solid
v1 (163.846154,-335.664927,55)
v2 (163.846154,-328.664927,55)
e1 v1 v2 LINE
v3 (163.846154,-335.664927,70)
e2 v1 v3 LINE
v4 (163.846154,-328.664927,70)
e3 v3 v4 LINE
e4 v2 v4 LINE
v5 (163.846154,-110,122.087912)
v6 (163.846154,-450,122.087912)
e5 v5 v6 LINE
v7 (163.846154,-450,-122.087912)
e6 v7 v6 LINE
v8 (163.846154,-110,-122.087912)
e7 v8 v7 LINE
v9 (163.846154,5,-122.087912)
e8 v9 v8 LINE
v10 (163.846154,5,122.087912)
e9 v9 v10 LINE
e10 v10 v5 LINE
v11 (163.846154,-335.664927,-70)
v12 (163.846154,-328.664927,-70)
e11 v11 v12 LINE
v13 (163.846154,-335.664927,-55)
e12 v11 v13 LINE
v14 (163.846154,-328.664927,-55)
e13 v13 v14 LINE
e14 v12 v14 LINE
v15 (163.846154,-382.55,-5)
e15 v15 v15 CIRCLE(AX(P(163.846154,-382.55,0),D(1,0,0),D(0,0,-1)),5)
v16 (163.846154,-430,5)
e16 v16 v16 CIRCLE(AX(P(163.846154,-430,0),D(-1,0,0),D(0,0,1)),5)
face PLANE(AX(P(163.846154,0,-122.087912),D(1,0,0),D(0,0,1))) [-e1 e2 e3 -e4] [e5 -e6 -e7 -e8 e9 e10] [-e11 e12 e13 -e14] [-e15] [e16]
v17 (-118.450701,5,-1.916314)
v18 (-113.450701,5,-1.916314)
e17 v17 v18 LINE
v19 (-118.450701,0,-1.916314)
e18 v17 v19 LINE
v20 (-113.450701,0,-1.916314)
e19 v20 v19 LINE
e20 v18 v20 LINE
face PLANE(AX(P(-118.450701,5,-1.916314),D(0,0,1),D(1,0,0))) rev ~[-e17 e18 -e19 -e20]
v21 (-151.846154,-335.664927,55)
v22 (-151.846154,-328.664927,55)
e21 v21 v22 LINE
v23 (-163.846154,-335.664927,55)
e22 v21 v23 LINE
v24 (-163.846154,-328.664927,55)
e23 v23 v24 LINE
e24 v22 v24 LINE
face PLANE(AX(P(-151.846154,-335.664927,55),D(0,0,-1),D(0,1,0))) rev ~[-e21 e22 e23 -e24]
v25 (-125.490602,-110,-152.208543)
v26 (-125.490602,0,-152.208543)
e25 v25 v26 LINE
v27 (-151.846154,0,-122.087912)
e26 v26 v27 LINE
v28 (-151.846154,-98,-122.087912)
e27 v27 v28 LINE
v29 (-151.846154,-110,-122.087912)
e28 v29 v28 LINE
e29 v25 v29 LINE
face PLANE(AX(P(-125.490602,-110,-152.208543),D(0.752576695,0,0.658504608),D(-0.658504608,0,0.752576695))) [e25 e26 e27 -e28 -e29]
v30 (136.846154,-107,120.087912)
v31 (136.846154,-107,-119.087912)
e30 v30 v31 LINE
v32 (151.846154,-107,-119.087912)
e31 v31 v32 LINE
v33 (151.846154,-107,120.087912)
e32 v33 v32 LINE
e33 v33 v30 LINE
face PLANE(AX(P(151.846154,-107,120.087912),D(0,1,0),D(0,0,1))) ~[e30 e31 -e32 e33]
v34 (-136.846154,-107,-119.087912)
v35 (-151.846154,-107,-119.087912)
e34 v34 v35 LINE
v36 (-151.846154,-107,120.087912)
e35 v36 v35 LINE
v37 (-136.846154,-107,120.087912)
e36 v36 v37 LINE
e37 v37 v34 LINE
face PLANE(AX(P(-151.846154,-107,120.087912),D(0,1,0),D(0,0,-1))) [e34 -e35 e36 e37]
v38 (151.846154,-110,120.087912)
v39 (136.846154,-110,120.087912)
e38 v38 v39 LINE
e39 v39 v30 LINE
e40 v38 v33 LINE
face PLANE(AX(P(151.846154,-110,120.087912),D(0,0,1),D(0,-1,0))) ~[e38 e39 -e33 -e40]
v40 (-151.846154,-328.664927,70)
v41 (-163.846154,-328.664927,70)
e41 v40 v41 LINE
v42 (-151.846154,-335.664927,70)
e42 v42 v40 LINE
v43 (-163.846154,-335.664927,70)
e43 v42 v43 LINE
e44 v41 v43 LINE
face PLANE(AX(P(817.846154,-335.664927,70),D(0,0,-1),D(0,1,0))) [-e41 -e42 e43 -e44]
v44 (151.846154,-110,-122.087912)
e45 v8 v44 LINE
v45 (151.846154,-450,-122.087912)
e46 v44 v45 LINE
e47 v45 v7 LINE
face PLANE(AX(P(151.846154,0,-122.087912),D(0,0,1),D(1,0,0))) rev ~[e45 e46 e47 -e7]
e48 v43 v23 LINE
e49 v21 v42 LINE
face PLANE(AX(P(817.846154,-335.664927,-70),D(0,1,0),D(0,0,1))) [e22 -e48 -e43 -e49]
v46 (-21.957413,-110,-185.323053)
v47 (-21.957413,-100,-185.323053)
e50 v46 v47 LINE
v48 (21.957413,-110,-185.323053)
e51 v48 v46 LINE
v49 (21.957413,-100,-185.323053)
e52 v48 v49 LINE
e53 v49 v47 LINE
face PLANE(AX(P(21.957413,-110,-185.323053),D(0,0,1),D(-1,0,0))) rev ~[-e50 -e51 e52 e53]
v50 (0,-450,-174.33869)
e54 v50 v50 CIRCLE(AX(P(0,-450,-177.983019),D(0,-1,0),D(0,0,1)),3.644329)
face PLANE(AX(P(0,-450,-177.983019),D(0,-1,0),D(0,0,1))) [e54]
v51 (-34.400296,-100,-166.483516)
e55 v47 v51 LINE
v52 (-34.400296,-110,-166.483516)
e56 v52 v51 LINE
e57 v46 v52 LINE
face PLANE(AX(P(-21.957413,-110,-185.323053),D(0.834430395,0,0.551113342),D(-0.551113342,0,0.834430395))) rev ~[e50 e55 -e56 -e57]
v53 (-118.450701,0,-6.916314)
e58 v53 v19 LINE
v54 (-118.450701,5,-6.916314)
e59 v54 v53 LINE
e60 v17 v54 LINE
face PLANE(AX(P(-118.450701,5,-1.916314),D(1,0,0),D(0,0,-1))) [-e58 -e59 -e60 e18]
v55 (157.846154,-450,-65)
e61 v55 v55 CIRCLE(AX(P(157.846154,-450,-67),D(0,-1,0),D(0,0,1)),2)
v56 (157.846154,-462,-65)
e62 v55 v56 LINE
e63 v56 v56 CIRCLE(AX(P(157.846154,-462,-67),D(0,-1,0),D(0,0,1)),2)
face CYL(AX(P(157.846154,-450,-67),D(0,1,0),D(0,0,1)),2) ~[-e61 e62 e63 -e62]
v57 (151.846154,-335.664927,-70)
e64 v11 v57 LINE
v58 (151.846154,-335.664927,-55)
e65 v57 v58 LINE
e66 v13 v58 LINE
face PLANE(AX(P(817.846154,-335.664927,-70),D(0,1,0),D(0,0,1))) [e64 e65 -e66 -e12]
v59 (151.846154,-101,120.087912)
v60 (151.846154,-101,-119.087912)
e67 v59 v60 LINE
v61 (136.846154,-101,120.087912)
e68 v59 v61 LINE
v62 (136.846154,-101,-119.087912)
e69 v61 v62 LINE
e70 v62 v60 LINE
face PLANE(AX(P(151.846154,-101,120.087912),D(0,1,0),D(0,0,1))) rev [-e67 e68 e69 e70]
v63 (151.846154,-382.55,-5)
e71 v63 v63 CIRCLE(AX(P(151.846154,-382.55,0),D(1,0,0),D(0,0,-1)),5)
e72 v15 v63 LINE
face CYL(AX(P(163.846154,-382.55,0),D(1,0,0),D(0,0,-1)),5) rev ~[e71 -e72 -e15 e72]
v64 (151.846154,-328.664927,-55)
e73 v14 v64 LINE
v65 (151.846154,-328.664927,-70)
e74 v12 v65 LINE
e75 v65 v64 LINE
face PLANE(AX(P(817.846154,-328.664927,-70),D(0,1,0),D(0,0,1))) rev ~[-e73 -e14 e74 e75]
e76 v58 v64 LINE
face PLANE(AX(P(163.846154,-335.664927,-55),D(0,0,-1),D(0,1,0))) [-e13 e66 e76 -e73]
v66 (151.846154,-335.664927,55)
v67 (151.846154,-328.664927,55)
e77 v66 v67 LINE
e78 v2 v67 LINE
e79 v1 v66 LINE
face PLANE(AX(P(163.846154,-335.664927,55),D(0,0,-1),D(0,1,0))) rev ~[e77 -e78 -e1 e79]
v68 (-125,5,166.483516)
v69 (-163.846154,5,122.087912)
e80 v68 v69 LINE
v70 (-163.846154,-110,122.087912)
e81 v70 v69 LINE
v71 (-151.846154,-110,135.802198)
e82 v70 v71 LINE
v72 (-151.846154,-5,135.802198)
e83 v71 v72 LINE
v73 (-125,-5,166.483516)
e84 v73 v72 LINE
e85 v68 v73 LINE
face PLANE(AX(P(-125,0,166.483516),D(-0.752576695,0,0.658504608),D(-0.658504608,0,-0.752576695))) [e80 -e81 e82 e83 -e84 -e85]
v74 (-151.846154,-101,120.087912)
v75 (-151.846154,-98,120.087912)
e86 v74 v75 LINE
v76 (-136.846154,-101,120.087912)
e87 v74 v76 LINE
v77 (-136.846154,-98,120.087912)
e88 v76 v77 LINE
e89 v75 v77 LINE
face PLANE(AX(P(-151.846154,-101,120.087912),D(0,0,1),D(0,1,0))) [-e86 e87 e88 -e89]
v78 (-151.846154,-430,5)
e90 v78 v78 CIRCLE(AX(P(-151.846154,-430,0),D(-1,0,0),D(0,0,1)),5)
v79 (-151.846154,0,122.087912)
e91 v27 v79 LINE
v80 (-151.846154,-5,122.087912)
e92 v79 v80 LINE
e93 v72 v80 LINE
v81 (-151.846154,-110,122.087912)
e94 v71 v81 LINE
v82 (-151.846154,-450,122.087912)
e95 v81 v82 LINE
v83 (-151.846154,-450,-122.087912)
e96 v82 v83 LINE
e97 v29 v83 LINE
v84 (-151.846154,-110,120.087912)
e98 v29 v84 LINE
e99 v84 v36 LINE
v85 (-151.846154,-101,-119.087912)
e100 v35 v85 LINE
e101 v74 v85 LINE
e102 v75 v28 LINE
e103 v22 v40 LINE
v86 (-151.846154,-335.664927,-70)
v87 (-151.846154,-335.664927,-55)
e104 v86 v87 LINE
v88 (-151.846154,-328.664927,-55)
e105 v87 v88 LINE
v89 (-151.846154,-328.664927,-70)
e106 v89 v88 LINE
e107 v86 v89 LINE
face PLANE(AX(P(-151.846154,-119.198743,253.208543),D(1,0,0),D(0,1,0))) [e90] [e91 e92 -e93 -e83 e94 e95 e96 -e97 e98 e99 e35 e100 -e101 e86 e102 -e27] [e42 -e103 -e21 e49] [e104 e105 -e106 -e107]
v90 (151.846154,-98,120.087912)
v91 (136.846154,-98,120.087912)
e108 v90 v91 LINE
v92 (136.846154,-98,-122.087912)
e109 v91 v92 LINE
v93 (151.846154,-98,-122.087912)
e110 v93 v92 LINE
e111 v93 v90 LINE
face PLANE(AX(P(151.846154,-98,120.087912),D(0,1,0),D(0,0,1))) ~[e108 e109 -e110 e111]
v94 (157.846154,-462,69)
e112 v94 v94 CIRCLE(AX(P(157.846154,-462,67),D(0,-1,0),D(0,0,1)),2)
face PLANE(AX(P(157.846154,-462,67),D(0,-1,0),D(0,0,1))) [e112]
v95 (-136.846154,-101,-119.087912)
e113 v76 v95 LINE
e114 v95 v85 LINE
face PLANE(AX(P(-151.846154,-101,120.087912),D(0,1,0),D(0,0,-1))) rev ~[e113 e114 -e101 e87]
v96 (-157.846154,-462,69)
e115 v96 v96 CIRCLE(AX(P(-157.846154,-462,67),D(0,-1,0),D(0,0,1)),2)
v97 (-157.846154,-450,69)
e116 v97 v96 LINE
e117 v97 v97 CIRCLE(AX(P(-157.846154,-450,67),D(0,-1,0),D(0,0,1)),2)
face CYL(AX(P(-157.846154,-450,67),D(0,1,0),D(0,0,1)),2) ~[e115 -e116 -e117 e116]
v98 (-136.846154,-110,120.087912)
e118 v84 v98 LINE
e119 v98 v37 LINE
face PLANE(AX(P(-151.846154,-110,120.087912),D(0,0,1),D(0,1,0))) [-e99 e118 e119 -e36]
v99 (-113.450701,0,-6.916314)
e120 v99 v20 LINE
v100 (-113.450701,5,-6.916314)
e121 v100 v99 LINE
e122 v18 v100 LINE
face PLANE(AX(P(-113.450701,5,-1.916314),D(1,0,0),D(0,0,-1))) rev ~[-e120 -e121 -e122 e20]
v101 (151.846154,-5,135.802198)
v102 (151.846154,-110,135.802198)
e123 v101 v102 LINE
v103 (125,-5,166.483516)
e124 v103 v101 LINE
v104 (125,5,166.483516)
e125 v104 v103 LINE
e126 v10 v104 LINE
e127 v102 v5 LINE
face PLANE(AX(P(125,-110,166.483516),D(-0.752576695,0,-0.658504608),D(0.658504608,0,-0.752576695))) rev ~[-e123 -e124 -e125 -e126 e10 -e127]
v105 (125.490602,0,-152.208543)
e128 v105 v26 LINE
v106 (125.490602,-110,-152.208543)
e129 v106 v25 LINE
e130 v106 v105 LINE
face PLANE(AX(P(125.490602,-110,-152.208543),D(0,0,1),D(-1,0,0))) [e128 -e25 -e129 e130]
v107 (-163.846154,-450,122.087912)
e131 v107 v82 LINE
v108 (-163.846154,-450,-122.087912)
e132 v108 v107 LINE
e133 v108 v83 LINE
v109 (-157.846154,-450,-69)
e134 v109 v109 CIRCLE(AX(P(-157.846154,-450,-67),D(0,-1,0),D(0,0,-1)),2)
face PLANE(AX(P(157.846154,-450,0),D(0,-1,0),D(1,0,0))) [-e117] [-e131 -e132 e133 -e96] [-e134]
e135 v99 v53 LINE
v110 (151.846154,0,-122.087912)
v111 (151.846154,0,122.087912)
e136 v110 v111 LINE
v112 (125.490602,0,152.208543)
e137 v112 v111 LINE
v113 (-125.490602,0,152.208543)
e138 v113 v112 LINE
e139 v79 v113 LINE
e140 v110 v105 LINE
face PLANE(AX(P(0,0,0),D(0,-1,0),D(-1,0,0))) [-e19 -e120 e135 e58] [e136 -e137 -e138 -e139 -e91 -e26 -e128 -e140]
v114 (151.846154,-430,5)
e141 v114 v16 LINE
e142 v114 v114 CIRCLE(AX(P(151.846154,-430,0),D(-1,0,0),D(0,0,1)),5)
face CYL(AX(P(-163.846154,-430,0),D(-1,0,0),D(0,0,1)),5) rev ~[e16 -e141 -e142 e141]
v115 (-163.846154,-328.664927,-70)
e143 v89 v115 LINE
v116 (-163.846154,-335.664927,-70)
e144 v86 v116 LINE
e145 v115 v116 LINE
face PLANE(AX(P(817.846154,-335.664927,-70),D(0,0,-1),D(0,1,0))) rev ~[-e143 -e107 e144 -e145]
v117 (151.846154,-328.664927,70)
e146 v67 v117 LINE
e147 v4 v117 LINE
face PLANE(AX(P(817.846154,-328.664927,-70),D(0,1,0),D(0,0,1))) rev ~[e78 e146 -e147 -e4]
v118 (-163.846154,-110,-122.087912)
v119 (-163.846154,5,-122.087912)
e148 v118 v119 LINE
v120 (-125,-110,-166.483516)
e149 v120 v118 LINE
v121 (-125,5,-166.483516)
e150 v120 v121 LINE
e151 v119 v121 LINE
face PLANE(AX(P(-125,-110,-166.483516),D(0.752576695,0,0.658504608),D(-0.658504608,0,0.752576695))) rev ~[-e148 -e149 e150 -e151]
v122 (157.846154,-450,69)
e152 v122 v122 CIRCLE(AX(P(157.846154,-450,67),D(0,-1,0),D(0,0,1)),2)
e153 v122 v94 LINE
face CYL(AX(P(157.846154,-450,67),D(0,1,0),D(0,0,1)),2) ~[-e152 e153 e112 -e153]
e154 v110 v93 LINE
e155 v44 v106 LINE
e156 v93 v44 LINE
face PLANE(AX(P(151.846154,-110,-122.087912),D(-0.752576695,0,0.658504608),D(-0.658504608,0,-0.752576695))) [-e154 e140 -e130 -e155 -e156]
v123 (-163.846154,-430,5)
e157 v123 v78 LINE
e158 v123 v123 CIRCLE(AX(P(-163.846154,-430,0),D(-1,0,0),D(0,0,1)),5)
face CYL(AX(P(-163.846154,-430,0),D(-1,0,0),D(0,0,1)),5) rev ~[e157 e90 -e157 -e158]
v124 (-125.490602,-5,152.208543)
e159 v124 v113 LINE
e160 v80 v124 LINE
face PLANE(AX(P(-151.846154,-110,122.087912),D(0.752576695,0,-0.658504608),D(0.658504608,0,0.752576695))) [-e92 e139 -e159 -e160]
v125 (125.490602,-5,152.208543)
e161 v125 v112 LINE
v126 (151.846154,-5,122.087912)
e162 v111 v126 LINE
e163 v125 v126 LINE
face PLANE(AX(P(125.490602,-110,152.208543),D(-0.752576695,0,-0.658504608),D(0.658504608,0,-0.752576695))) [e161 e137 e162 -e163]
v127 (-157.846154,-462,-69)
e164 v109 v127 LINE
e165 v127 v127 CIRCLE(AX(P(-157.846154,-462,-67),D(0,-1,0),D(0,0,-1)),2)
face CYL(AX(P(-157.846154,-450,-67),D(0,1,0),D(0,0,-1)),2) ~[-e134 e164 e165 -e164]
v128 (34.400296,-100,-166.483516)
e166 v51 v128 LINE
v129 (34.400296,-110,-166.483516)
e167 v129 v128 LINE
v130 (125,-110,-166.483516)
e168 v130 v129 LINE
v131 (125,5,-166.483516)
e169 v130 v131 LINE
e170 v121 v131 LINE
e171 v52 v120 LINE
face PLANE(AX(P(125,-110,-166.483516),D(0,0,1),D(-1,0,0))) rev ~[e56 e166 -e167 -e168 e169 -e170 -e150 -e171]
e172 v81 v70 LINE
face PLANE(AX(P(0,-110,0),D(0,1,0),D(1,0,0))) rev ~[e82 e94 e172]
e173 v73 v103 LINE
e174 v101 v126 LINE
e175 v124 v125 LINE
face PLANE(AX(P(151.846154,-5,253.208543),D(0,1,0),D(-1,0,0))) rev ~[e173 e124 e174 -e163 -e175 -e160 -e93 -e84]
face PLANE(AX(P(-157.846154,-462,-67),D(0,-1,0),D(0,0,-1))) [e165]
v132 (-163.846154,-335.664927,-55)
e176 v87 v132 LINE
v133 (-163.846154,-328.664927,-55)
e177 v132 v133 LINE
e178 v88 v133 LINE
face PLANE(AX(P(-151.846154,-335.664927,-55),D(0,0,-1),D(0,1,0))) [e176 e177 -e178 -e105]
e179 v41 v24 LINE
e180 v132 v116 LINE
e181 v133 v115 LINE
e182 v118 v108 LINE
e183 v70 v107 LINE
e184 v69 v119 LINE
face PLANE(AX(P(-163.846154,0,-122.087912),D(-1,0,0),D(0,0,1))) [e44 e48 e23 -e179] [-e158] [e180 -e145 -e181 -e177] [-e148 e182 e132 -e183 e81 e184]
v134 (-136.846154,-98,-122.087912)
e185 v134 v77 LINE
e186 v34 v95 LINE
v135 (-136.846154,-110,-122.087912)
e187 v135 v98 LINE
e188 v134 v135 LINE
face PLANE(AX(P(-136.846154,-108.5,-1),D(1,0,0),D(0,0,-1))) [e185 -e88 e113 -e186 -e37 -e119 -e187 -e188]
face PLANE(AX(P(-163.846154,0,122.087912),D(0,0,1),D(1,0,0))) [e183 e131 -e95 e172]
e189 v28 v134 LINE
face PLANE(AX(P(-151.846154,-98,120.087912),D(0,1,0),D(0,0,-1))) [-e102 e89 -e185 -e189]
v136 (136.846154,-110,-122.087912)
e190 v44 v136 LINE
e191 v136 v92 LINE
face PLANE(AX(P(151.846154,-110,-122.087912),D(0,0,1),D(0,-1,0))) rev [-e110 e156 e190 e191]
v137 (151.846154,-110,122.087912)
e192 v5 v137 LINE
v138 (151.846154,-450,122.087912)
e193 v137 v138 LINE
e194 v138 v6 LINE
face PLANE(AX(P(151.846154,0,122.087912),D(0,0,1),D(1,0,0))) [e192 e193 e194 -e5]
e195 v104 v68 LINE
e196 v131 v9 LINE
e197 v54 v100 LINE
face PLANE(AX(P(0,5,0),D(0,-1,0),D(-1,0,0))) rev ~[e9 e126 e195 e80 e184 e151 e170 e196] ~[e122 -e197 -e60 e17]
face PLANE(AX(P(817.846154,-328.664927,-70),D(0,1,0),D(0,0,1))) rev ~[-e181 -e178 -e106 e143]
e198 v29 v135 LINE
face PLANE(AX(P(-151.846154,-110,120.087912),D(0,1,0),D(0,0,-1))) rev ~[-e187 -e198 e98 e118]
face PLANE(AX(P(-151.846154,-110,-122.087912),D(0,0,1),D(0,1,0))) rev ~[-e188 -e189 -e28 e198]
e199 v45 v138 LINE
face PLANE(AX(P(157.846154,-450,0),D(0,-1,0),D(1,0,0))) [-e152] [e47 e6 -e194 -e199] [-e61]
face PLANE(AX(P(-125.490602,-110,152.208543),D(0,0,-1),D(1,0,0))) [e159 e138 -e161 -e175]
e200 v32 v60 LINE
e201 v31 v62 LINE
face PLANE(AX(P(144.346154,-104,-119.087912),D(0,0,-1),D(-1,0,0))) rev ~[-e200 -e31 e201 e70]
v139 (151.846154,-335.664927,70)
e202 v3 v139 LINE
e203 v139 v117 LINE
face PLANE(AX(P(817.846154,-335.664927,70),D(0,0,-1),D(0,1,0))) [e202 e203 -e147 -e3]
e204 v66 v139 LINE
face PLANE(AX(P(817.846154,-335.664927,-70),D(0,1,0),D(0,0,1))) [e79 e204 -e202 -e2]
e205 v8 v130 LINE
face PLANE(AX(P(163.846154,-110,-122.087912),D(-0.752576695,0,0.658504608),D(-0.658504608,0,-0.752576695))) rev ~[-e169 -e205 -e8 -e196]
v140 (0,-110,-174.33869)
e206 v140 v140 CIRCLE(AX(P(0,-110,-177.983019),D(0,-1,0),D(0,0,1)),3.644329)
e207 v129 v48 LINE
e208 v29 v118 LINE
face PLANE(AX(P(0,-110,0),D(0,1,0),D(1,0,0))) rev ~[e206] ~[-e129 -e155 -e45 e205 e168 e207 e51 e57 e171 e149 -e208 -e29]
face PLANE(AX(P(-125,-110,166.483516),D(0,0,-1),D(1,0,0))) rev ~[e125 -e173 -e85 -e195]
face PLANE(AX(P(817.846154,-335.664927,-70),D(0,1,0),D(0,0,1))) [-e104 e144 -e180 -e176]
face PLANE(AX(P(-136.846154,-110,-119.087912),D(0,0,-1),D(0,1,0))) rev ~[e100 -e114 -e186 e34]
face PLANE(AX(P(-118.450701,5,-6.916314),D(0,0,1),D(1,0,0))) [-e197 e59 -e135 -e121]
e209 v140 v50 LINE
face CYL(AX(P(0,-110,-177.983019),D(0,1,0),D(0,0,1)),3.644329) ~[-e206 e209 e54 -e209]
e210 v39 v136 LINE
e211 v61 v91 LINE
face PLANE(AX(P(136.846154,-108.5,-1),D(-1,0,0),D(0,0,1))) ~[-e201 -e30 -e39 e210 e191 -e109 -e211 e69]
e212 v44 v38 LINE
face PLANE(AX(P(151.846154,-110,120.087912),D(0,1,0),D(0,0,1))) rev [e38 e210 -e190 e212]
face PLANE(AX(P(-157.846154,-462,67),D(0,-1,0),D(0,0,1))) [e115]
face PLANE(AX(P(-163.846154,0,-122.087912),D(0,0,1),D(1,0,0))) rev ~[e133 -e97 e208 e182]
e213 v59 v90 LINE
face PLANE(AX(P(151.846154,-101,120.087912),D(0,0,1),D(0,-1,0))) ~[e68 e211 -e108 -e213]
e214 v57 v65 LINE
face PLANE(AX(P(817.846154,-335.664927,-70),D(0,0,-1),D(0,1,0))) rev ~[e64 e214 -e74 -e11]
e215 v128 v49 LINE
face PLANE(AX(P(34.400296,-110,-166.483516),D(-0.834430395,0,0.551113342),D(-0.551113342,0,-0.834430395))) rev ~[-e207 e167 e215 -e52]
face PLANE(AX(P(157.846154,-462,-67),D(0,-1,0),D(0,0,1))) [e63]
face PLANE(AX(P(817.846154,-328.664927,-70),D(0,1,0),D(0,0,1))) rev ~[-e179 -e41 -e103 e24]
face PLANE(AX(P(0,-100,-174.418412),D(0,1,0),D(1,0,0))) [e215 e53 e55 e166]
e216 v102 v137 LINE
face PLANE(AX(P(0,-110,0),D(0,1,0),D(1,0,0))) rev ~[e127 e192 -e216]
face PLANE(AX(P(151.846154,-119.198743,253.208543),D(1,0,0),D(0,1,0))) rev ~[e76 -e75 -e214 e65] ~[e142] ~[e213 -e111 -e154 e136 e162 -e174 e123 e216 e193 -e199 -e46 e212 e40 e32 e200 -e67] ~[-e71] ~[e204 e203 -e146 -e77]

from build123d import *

# Parameters (mm, degrees)
BOSS_EXTRU_1_DEPTH           = 5
ESQUISSE3_W                  = 12
ESQUISSE3_H                  = 244.175824176
BOSS_EXTRU_3_DEPTH           = 450
ESQUISSE4_R                  = 2
BOSS_EXTRU_6_DEPTH           = 12
ESQUISSE8_R                  = 5
ENL_V_MAT_EXTRU_2_DEPTH      = 416
BOSS_EXTRU_7_DEPTH           = 110
ENL_V_MAT_EXTRU_6_DEPTH      = 148
ENL_V_MAT_EXTRU_6_DEPTH_BACK = 101
ESQUISSE11_W                 = 303.692307692
ESQUISSE11_H                 = 114.198743449
ENL_V_MAT_EXTRU_8_DEPTH      = 666
ENL_V_MAT_EXTRU_8_DEPTH_BACK = 666
ESQUISSE12_W                 = 140
ESQUISSE12_H                 = 7
ESQUISSE16_W                 = 242.175824176
ESQUISSE16_H                 = 3
BOSS_EXTRU_8_DEPTH           = 15
ESQUISSE17_W                 = 3
ESQUISSE17_H                 = 12
BOSS_EXTRU_11_DEPTH          = 15
ESQUISSE19_W                 = 15
ESQUISSE19_H                 = 12
BOSS_EXTRU_12_DEPTH          = 3
ESQUISSE23_W                 = 110
ESQUISSE23_H                 = 7
BOSS_EXTRU_13_DEPTH          = 12
ESQUISSE24_W                 = 110
ESQUISSE24_H                 = 7
BOSS_EXTRU_14_DEPTH          = 12
ESQUISSE27_W                 = 10
ESQUISSE27_H                 = 338
BOSS_EXTRU_16_DEPTH          = 303.692307692
ESQUISSE28_W                 = 5
ESQUISSE28_H                 = 5
ENL_V_MAT_EXTRU_9_DEPTH      = 15
ESQUISSE29_R                 = 5
ENL_V_MAT_EXTRU_10_DEPTH     = 38
ESQUISSE30_W                 = 303.692307692
ESQUISSE30_H                 = 10
ENL_V_MAT_EXTRU_11_DEPTH     = 340
ESQUISSE31_W                 = 303.692307692
ESQUISSE31_H                 = 10
ENL_V_MAT_EXTRU_12_DEPTH     = 338
BOSS_EXTRU_18_DEPTH          = 10
ESQUISSE34_R                 = 3.644329392
BOSS_EXTRU_19_DEPTH          = 340


with BuildPart() as part:
    # Esquisse1 → Boss.-Extru.1 (new body)
    with BuildSketch(Plane(origin=(0, 0, 0), x_dir=(1, 0, 0), z_dir=(0, 1, 0))):
        Polygon((-125, 166.483516484), (125, 166.483516484), (163.846153846, 122.087912088), (163.846153846, -122.087912088), (125, -166.483516484), (-125, -166.483516484), (-163.846153846, -122.087912088), (-163.846153846, 122.087912088), align=None)
    extrude(amount=BOSS_EXTRU_1_DEPTH)

    # Esquisse3 → Boss.-Extru.3 (add)
    with BuildSketch(Plane.XZ):
        with Locations((-157.846153846, 0)):
            Rectangle(ESQUISSE3_W, ESQUISSE3_H)
        with Locations((157.846153846, 0)):
            Rectangle(ESQUISSE3_W, ESQUISSE3_H)
    extrude(amount=BOSS_EXTRU_3_DEPTH)

    # Esquisse4 → Boss.-Extru.6 (add)
    with BuildSketch(Plane.XZ.offset(450)):
        with Locations(Location((-157.846153846, 67, 0), (0, 0, 90))):
            Circle(ESQUISSE4_R)
        with Locations(Location((-157.846153846, -67, 0), (0, 0, 270))):
            Circle(ESQUISSE4_R)
        with Locations(Location((157.846153846, -67, 0), (0, 0, 90))):
            Circle(ESQUISSE4_R)
        with Locations(Location((157.846153846, 67, 0), (0, 0, 90))):
            Circle(ESQUISSE4_R)
    extrude(amount=BOSS_EXTRU_6_DEPTH)

    # Esquisse8 → Enlèv. mat.-Extru.2 (cut)
    with BuildSketch(Plane.ZY.offset(163.846153846)):
        with Locations((0, -430)):
            Circle(ESQUISSE8_R)
    extrude(amount=-ENL_V_MAT_EXTRU_2_DEPTH, mode=Mode.SUBTRACT)

    # Esquisse10 → Boss.-Extru.7 (add)
    with BuildSketch(Plane(origin=(0, -110, 0), x_dir=(-1, 0, 0), z_dir=(0, -1, 0))):
        Polygon((-163.846153846, 122.087912088), (-125, 166.483516484), (125, 166.483516484), (163.846153846, 122.087912088), (163.846153846, -122.087912088), (125, -166.483516484), (-125, -166.483516484), (-163.846153846, -122.087912088), align=None)
        Polygon((-151.846153846, -122.087912088), (-151.846153846, 122.087912088), (-125.490601914, 152.208542868), (125.490601914, 152.208542868), (151.846153846, 122.087912088), (151.846153846, -122.087912088), (125.490601914, -152.208542868), (-125.490601914, -152.208542868), align=None, mode=Mode.SUBTRACT)
    extrude(amount=-BOSS_EXTRU_7_DEPTH)

    # Esquisse11 → Enlèv. mat.-Extru.6 (cut, two sides: drawn at the far end of the back side and taken through both)
    with BuildSketch(Plane(origin=(0, 0, 152.208542868), x_dir=(-1, 0, 0), z_dir=(0, 0, -1)).offset(-ENL_V_MAT_EXTRU_6_DEPTH_BACK)):
        with Locations((0, -62.099371725)):
            Rectangle(ESQUISSE11_W, ESQUISSE11_H)
    extrude(amount=ENL_V_MAT_EXTRU_6_DEPTH + ENL_V_MAT_EXTRU_6_DEPTH_BACK, mode=Mode.SUBTRACT)

    # Esquisse12 → Enlèv. mat.-Extru.8 (cut, two sides: drawn at the far end of the back side and taken through both)
    with BuildSketch(Plane.ZY.offset(-151.846153846).offset(-ENL_V_MAT_EXTRU_8_DEPTH_BACK)):
        with Locations((0, -332.164926547)):
            Rectangle(ESQUISSE12_W, ESQUISSE12_H)
    extrude(amount=ENL_V_MAT_EXTRU_8_DEPTH + ENL_V_MAT_EXTRU_8_DEPTH_BACK, mode=Mode.SUBTRACT)

    # Esquisse16 → Boss.-Extru.8 (add)
    with BuildSketch(Plane(origin=(-151.846153846, 0, 0), x_dir=(0, 0, -1), z_dir=(1, 0, 0))):
        with Locations((1, -108.5)):
            Rectangle(ESQUISSE16_W, ESQUISSE16_H)
        with Locations((1, -99.5)):
            Rectangle(ESQUISSE16_W, ESQUISSE16_H)
    boss_extru_8 = extrude(amount=BOSS_EXTRU_8_DEPTH)

    # Esquisse17 → Boss.-Extru.11 (add)
    with BuildSketch(Plane(origin=(-136.846153846, 0, 0), x_dir=(0, 0, -1), z_dir=(1, 0, 0))):
        with Locations((120.587912088, -104)):
            Rectangle(ESQUISSE17_W, ESQUISSE17_H)
    extrude(amount=-BOSS_EXTRU_11_DEPTH)

    # Symétrie2: Boss.-Extru.8 across plane
    add(boss_extru_8.mirror(Plane(origin=(0, 0, 0), x_dir=(0, 0, 1), z_dir=(1, 0, 0))))

    # Esquisse19 → Boss.-Extru.12 (add)
    with BuildSketch(Plane(origin=(0, 0, -122.087912088), x_dir=(-1, 0, 0), z_dir=(0, 0, -1))):
        with Locations((-144.346153846, -104)):
            Rectangle(ESQUISSE19_W, ESQUISSE19_H)
    extrude(amount=-BOSS_EXTRU_12_DEPTH)

    # Esquisse23 → Boss.-Extru.13 (add)
    with BuildSketch(Plane(origin=(-151.846153846, 0, 0), x_dir=(0, 0, -1), z_dir=(1, 0, 0))):
        with Locations((0, -332.164926547)):
            Rectangle(ESQUISSE23_W, ESQUISSE23_H)
    extrude(amount=-BOSS_EXTRU_13_DEPTH)

    # Esquisse24 → Boss.-Extru.14 (add)
    with BuildSketch(Plane(origin=(163.846153846, 0, 0), x_dir=(0, 0, -1), z_dir=(1, 0, 0))):
        with Locations((0, -332.164926547)):
            Rectangle(ESQUISSE24_W, ESQUISSE24_H)
    extrude(amount=-BOSS_EXTRU_14_DEPTH)

    # Esquisse27 → Boss.-Extru.16 (add)
    with BuildSketch(Plane.ZY.offset(-151.846153846)):
        with Locations((-82.501488258, -281)):
            Rectangle(ESQUISSE27_W, ESQUISSE27_H)
    boss_extru_16 = extrude(amount=BOSS_EXTRU_16_DEPTH)

    # Symétrie4: Boss.-Extru.16 across plane
    add(boss_extru_16.mirror(Plane.XY))

    # Esquisse28 → Enlèv. mat.-Extru.9 (cut)
    with BuildSketch(Plane(origin=(0, 5, 0), x_dir=(1, 0, 0), z_dir=(0, 1, 0))):
        with Locations((-115.95070095, 4.416314077)):
            Rectangle(ESQUISSE28_W, ESQUISSE28_H)
    extrude(amount=-ENL_V_MAT_EXTRU_9_DEPTH, mode=Mode.SUBTRACT)

    # Esquisse29 → Enlèv. mat.-Extru.10 (cut)
    with BuildSketch(Plane(origin=(163.846153846, 0, 0), x_dir=(0, 0, -1), z_dir=(1, 0, 0))):
        with Locations((0, -382.55)):
            Circle(ESQUISSE29_R)
    extrude(amount=-ENL_V_MAT_EXTRU_10_DEPTH, mode=Mode.SUBTRACT)

    # Esquisse30 → Enlèv. mat.-Extru.11 (cut)
    with BuildSketch(Plane.XZ.offset(450)):
        with Locations((0, 82.501488258)):
            Rectangle(ESQUISSE30_W, ESQUISSE30_H)
    extrude(amount=-ENL_V_MAT_EXTRU_11_DEPTH, mode=Mode.SUBTRACT)

    # Esquisse31 → Enlèv. mat.-Extru.12 (cut)
    with BuildSketch(Plane.XZ.offset(450)):
        with Locations((0, -82.501488258)):
            Rectangle(ESQUISSE31_W, ESQUISSE31_H)
    extrude(amount=-ENL_V_MAT_EXTRU_12_DEPTH, mode=Mode.SUBTRACT)

    # Esquisse33 → Boss.-Extru.18 (add)
    with BuildSketch(Plane(origin=(0, -110, 0), x_dir=(-1, 0, 0), z_dir=(0, -1, 0))):
        Polygon((-21.957412763, 185.323052507), (21.957412763, 185.323052507), (34.400295625, 166.483516484), (-34.400295625, 166.483516484), align=None)
    extrude(amount=-BOSS_EXTRU_18_DEPTH)

    # Esquisse34 → Boss.-Extru.19 (add)
    with BuildSketch(Plane.XZ.offset(110)):
        with Locations(Location((0, -177.983018986, 0), (0, 0, 90))):
            Circle(ESQUISSE34_R)
    extrude(amount=BOSS_EXTRU_19_DEPTH)


solid = part.part
